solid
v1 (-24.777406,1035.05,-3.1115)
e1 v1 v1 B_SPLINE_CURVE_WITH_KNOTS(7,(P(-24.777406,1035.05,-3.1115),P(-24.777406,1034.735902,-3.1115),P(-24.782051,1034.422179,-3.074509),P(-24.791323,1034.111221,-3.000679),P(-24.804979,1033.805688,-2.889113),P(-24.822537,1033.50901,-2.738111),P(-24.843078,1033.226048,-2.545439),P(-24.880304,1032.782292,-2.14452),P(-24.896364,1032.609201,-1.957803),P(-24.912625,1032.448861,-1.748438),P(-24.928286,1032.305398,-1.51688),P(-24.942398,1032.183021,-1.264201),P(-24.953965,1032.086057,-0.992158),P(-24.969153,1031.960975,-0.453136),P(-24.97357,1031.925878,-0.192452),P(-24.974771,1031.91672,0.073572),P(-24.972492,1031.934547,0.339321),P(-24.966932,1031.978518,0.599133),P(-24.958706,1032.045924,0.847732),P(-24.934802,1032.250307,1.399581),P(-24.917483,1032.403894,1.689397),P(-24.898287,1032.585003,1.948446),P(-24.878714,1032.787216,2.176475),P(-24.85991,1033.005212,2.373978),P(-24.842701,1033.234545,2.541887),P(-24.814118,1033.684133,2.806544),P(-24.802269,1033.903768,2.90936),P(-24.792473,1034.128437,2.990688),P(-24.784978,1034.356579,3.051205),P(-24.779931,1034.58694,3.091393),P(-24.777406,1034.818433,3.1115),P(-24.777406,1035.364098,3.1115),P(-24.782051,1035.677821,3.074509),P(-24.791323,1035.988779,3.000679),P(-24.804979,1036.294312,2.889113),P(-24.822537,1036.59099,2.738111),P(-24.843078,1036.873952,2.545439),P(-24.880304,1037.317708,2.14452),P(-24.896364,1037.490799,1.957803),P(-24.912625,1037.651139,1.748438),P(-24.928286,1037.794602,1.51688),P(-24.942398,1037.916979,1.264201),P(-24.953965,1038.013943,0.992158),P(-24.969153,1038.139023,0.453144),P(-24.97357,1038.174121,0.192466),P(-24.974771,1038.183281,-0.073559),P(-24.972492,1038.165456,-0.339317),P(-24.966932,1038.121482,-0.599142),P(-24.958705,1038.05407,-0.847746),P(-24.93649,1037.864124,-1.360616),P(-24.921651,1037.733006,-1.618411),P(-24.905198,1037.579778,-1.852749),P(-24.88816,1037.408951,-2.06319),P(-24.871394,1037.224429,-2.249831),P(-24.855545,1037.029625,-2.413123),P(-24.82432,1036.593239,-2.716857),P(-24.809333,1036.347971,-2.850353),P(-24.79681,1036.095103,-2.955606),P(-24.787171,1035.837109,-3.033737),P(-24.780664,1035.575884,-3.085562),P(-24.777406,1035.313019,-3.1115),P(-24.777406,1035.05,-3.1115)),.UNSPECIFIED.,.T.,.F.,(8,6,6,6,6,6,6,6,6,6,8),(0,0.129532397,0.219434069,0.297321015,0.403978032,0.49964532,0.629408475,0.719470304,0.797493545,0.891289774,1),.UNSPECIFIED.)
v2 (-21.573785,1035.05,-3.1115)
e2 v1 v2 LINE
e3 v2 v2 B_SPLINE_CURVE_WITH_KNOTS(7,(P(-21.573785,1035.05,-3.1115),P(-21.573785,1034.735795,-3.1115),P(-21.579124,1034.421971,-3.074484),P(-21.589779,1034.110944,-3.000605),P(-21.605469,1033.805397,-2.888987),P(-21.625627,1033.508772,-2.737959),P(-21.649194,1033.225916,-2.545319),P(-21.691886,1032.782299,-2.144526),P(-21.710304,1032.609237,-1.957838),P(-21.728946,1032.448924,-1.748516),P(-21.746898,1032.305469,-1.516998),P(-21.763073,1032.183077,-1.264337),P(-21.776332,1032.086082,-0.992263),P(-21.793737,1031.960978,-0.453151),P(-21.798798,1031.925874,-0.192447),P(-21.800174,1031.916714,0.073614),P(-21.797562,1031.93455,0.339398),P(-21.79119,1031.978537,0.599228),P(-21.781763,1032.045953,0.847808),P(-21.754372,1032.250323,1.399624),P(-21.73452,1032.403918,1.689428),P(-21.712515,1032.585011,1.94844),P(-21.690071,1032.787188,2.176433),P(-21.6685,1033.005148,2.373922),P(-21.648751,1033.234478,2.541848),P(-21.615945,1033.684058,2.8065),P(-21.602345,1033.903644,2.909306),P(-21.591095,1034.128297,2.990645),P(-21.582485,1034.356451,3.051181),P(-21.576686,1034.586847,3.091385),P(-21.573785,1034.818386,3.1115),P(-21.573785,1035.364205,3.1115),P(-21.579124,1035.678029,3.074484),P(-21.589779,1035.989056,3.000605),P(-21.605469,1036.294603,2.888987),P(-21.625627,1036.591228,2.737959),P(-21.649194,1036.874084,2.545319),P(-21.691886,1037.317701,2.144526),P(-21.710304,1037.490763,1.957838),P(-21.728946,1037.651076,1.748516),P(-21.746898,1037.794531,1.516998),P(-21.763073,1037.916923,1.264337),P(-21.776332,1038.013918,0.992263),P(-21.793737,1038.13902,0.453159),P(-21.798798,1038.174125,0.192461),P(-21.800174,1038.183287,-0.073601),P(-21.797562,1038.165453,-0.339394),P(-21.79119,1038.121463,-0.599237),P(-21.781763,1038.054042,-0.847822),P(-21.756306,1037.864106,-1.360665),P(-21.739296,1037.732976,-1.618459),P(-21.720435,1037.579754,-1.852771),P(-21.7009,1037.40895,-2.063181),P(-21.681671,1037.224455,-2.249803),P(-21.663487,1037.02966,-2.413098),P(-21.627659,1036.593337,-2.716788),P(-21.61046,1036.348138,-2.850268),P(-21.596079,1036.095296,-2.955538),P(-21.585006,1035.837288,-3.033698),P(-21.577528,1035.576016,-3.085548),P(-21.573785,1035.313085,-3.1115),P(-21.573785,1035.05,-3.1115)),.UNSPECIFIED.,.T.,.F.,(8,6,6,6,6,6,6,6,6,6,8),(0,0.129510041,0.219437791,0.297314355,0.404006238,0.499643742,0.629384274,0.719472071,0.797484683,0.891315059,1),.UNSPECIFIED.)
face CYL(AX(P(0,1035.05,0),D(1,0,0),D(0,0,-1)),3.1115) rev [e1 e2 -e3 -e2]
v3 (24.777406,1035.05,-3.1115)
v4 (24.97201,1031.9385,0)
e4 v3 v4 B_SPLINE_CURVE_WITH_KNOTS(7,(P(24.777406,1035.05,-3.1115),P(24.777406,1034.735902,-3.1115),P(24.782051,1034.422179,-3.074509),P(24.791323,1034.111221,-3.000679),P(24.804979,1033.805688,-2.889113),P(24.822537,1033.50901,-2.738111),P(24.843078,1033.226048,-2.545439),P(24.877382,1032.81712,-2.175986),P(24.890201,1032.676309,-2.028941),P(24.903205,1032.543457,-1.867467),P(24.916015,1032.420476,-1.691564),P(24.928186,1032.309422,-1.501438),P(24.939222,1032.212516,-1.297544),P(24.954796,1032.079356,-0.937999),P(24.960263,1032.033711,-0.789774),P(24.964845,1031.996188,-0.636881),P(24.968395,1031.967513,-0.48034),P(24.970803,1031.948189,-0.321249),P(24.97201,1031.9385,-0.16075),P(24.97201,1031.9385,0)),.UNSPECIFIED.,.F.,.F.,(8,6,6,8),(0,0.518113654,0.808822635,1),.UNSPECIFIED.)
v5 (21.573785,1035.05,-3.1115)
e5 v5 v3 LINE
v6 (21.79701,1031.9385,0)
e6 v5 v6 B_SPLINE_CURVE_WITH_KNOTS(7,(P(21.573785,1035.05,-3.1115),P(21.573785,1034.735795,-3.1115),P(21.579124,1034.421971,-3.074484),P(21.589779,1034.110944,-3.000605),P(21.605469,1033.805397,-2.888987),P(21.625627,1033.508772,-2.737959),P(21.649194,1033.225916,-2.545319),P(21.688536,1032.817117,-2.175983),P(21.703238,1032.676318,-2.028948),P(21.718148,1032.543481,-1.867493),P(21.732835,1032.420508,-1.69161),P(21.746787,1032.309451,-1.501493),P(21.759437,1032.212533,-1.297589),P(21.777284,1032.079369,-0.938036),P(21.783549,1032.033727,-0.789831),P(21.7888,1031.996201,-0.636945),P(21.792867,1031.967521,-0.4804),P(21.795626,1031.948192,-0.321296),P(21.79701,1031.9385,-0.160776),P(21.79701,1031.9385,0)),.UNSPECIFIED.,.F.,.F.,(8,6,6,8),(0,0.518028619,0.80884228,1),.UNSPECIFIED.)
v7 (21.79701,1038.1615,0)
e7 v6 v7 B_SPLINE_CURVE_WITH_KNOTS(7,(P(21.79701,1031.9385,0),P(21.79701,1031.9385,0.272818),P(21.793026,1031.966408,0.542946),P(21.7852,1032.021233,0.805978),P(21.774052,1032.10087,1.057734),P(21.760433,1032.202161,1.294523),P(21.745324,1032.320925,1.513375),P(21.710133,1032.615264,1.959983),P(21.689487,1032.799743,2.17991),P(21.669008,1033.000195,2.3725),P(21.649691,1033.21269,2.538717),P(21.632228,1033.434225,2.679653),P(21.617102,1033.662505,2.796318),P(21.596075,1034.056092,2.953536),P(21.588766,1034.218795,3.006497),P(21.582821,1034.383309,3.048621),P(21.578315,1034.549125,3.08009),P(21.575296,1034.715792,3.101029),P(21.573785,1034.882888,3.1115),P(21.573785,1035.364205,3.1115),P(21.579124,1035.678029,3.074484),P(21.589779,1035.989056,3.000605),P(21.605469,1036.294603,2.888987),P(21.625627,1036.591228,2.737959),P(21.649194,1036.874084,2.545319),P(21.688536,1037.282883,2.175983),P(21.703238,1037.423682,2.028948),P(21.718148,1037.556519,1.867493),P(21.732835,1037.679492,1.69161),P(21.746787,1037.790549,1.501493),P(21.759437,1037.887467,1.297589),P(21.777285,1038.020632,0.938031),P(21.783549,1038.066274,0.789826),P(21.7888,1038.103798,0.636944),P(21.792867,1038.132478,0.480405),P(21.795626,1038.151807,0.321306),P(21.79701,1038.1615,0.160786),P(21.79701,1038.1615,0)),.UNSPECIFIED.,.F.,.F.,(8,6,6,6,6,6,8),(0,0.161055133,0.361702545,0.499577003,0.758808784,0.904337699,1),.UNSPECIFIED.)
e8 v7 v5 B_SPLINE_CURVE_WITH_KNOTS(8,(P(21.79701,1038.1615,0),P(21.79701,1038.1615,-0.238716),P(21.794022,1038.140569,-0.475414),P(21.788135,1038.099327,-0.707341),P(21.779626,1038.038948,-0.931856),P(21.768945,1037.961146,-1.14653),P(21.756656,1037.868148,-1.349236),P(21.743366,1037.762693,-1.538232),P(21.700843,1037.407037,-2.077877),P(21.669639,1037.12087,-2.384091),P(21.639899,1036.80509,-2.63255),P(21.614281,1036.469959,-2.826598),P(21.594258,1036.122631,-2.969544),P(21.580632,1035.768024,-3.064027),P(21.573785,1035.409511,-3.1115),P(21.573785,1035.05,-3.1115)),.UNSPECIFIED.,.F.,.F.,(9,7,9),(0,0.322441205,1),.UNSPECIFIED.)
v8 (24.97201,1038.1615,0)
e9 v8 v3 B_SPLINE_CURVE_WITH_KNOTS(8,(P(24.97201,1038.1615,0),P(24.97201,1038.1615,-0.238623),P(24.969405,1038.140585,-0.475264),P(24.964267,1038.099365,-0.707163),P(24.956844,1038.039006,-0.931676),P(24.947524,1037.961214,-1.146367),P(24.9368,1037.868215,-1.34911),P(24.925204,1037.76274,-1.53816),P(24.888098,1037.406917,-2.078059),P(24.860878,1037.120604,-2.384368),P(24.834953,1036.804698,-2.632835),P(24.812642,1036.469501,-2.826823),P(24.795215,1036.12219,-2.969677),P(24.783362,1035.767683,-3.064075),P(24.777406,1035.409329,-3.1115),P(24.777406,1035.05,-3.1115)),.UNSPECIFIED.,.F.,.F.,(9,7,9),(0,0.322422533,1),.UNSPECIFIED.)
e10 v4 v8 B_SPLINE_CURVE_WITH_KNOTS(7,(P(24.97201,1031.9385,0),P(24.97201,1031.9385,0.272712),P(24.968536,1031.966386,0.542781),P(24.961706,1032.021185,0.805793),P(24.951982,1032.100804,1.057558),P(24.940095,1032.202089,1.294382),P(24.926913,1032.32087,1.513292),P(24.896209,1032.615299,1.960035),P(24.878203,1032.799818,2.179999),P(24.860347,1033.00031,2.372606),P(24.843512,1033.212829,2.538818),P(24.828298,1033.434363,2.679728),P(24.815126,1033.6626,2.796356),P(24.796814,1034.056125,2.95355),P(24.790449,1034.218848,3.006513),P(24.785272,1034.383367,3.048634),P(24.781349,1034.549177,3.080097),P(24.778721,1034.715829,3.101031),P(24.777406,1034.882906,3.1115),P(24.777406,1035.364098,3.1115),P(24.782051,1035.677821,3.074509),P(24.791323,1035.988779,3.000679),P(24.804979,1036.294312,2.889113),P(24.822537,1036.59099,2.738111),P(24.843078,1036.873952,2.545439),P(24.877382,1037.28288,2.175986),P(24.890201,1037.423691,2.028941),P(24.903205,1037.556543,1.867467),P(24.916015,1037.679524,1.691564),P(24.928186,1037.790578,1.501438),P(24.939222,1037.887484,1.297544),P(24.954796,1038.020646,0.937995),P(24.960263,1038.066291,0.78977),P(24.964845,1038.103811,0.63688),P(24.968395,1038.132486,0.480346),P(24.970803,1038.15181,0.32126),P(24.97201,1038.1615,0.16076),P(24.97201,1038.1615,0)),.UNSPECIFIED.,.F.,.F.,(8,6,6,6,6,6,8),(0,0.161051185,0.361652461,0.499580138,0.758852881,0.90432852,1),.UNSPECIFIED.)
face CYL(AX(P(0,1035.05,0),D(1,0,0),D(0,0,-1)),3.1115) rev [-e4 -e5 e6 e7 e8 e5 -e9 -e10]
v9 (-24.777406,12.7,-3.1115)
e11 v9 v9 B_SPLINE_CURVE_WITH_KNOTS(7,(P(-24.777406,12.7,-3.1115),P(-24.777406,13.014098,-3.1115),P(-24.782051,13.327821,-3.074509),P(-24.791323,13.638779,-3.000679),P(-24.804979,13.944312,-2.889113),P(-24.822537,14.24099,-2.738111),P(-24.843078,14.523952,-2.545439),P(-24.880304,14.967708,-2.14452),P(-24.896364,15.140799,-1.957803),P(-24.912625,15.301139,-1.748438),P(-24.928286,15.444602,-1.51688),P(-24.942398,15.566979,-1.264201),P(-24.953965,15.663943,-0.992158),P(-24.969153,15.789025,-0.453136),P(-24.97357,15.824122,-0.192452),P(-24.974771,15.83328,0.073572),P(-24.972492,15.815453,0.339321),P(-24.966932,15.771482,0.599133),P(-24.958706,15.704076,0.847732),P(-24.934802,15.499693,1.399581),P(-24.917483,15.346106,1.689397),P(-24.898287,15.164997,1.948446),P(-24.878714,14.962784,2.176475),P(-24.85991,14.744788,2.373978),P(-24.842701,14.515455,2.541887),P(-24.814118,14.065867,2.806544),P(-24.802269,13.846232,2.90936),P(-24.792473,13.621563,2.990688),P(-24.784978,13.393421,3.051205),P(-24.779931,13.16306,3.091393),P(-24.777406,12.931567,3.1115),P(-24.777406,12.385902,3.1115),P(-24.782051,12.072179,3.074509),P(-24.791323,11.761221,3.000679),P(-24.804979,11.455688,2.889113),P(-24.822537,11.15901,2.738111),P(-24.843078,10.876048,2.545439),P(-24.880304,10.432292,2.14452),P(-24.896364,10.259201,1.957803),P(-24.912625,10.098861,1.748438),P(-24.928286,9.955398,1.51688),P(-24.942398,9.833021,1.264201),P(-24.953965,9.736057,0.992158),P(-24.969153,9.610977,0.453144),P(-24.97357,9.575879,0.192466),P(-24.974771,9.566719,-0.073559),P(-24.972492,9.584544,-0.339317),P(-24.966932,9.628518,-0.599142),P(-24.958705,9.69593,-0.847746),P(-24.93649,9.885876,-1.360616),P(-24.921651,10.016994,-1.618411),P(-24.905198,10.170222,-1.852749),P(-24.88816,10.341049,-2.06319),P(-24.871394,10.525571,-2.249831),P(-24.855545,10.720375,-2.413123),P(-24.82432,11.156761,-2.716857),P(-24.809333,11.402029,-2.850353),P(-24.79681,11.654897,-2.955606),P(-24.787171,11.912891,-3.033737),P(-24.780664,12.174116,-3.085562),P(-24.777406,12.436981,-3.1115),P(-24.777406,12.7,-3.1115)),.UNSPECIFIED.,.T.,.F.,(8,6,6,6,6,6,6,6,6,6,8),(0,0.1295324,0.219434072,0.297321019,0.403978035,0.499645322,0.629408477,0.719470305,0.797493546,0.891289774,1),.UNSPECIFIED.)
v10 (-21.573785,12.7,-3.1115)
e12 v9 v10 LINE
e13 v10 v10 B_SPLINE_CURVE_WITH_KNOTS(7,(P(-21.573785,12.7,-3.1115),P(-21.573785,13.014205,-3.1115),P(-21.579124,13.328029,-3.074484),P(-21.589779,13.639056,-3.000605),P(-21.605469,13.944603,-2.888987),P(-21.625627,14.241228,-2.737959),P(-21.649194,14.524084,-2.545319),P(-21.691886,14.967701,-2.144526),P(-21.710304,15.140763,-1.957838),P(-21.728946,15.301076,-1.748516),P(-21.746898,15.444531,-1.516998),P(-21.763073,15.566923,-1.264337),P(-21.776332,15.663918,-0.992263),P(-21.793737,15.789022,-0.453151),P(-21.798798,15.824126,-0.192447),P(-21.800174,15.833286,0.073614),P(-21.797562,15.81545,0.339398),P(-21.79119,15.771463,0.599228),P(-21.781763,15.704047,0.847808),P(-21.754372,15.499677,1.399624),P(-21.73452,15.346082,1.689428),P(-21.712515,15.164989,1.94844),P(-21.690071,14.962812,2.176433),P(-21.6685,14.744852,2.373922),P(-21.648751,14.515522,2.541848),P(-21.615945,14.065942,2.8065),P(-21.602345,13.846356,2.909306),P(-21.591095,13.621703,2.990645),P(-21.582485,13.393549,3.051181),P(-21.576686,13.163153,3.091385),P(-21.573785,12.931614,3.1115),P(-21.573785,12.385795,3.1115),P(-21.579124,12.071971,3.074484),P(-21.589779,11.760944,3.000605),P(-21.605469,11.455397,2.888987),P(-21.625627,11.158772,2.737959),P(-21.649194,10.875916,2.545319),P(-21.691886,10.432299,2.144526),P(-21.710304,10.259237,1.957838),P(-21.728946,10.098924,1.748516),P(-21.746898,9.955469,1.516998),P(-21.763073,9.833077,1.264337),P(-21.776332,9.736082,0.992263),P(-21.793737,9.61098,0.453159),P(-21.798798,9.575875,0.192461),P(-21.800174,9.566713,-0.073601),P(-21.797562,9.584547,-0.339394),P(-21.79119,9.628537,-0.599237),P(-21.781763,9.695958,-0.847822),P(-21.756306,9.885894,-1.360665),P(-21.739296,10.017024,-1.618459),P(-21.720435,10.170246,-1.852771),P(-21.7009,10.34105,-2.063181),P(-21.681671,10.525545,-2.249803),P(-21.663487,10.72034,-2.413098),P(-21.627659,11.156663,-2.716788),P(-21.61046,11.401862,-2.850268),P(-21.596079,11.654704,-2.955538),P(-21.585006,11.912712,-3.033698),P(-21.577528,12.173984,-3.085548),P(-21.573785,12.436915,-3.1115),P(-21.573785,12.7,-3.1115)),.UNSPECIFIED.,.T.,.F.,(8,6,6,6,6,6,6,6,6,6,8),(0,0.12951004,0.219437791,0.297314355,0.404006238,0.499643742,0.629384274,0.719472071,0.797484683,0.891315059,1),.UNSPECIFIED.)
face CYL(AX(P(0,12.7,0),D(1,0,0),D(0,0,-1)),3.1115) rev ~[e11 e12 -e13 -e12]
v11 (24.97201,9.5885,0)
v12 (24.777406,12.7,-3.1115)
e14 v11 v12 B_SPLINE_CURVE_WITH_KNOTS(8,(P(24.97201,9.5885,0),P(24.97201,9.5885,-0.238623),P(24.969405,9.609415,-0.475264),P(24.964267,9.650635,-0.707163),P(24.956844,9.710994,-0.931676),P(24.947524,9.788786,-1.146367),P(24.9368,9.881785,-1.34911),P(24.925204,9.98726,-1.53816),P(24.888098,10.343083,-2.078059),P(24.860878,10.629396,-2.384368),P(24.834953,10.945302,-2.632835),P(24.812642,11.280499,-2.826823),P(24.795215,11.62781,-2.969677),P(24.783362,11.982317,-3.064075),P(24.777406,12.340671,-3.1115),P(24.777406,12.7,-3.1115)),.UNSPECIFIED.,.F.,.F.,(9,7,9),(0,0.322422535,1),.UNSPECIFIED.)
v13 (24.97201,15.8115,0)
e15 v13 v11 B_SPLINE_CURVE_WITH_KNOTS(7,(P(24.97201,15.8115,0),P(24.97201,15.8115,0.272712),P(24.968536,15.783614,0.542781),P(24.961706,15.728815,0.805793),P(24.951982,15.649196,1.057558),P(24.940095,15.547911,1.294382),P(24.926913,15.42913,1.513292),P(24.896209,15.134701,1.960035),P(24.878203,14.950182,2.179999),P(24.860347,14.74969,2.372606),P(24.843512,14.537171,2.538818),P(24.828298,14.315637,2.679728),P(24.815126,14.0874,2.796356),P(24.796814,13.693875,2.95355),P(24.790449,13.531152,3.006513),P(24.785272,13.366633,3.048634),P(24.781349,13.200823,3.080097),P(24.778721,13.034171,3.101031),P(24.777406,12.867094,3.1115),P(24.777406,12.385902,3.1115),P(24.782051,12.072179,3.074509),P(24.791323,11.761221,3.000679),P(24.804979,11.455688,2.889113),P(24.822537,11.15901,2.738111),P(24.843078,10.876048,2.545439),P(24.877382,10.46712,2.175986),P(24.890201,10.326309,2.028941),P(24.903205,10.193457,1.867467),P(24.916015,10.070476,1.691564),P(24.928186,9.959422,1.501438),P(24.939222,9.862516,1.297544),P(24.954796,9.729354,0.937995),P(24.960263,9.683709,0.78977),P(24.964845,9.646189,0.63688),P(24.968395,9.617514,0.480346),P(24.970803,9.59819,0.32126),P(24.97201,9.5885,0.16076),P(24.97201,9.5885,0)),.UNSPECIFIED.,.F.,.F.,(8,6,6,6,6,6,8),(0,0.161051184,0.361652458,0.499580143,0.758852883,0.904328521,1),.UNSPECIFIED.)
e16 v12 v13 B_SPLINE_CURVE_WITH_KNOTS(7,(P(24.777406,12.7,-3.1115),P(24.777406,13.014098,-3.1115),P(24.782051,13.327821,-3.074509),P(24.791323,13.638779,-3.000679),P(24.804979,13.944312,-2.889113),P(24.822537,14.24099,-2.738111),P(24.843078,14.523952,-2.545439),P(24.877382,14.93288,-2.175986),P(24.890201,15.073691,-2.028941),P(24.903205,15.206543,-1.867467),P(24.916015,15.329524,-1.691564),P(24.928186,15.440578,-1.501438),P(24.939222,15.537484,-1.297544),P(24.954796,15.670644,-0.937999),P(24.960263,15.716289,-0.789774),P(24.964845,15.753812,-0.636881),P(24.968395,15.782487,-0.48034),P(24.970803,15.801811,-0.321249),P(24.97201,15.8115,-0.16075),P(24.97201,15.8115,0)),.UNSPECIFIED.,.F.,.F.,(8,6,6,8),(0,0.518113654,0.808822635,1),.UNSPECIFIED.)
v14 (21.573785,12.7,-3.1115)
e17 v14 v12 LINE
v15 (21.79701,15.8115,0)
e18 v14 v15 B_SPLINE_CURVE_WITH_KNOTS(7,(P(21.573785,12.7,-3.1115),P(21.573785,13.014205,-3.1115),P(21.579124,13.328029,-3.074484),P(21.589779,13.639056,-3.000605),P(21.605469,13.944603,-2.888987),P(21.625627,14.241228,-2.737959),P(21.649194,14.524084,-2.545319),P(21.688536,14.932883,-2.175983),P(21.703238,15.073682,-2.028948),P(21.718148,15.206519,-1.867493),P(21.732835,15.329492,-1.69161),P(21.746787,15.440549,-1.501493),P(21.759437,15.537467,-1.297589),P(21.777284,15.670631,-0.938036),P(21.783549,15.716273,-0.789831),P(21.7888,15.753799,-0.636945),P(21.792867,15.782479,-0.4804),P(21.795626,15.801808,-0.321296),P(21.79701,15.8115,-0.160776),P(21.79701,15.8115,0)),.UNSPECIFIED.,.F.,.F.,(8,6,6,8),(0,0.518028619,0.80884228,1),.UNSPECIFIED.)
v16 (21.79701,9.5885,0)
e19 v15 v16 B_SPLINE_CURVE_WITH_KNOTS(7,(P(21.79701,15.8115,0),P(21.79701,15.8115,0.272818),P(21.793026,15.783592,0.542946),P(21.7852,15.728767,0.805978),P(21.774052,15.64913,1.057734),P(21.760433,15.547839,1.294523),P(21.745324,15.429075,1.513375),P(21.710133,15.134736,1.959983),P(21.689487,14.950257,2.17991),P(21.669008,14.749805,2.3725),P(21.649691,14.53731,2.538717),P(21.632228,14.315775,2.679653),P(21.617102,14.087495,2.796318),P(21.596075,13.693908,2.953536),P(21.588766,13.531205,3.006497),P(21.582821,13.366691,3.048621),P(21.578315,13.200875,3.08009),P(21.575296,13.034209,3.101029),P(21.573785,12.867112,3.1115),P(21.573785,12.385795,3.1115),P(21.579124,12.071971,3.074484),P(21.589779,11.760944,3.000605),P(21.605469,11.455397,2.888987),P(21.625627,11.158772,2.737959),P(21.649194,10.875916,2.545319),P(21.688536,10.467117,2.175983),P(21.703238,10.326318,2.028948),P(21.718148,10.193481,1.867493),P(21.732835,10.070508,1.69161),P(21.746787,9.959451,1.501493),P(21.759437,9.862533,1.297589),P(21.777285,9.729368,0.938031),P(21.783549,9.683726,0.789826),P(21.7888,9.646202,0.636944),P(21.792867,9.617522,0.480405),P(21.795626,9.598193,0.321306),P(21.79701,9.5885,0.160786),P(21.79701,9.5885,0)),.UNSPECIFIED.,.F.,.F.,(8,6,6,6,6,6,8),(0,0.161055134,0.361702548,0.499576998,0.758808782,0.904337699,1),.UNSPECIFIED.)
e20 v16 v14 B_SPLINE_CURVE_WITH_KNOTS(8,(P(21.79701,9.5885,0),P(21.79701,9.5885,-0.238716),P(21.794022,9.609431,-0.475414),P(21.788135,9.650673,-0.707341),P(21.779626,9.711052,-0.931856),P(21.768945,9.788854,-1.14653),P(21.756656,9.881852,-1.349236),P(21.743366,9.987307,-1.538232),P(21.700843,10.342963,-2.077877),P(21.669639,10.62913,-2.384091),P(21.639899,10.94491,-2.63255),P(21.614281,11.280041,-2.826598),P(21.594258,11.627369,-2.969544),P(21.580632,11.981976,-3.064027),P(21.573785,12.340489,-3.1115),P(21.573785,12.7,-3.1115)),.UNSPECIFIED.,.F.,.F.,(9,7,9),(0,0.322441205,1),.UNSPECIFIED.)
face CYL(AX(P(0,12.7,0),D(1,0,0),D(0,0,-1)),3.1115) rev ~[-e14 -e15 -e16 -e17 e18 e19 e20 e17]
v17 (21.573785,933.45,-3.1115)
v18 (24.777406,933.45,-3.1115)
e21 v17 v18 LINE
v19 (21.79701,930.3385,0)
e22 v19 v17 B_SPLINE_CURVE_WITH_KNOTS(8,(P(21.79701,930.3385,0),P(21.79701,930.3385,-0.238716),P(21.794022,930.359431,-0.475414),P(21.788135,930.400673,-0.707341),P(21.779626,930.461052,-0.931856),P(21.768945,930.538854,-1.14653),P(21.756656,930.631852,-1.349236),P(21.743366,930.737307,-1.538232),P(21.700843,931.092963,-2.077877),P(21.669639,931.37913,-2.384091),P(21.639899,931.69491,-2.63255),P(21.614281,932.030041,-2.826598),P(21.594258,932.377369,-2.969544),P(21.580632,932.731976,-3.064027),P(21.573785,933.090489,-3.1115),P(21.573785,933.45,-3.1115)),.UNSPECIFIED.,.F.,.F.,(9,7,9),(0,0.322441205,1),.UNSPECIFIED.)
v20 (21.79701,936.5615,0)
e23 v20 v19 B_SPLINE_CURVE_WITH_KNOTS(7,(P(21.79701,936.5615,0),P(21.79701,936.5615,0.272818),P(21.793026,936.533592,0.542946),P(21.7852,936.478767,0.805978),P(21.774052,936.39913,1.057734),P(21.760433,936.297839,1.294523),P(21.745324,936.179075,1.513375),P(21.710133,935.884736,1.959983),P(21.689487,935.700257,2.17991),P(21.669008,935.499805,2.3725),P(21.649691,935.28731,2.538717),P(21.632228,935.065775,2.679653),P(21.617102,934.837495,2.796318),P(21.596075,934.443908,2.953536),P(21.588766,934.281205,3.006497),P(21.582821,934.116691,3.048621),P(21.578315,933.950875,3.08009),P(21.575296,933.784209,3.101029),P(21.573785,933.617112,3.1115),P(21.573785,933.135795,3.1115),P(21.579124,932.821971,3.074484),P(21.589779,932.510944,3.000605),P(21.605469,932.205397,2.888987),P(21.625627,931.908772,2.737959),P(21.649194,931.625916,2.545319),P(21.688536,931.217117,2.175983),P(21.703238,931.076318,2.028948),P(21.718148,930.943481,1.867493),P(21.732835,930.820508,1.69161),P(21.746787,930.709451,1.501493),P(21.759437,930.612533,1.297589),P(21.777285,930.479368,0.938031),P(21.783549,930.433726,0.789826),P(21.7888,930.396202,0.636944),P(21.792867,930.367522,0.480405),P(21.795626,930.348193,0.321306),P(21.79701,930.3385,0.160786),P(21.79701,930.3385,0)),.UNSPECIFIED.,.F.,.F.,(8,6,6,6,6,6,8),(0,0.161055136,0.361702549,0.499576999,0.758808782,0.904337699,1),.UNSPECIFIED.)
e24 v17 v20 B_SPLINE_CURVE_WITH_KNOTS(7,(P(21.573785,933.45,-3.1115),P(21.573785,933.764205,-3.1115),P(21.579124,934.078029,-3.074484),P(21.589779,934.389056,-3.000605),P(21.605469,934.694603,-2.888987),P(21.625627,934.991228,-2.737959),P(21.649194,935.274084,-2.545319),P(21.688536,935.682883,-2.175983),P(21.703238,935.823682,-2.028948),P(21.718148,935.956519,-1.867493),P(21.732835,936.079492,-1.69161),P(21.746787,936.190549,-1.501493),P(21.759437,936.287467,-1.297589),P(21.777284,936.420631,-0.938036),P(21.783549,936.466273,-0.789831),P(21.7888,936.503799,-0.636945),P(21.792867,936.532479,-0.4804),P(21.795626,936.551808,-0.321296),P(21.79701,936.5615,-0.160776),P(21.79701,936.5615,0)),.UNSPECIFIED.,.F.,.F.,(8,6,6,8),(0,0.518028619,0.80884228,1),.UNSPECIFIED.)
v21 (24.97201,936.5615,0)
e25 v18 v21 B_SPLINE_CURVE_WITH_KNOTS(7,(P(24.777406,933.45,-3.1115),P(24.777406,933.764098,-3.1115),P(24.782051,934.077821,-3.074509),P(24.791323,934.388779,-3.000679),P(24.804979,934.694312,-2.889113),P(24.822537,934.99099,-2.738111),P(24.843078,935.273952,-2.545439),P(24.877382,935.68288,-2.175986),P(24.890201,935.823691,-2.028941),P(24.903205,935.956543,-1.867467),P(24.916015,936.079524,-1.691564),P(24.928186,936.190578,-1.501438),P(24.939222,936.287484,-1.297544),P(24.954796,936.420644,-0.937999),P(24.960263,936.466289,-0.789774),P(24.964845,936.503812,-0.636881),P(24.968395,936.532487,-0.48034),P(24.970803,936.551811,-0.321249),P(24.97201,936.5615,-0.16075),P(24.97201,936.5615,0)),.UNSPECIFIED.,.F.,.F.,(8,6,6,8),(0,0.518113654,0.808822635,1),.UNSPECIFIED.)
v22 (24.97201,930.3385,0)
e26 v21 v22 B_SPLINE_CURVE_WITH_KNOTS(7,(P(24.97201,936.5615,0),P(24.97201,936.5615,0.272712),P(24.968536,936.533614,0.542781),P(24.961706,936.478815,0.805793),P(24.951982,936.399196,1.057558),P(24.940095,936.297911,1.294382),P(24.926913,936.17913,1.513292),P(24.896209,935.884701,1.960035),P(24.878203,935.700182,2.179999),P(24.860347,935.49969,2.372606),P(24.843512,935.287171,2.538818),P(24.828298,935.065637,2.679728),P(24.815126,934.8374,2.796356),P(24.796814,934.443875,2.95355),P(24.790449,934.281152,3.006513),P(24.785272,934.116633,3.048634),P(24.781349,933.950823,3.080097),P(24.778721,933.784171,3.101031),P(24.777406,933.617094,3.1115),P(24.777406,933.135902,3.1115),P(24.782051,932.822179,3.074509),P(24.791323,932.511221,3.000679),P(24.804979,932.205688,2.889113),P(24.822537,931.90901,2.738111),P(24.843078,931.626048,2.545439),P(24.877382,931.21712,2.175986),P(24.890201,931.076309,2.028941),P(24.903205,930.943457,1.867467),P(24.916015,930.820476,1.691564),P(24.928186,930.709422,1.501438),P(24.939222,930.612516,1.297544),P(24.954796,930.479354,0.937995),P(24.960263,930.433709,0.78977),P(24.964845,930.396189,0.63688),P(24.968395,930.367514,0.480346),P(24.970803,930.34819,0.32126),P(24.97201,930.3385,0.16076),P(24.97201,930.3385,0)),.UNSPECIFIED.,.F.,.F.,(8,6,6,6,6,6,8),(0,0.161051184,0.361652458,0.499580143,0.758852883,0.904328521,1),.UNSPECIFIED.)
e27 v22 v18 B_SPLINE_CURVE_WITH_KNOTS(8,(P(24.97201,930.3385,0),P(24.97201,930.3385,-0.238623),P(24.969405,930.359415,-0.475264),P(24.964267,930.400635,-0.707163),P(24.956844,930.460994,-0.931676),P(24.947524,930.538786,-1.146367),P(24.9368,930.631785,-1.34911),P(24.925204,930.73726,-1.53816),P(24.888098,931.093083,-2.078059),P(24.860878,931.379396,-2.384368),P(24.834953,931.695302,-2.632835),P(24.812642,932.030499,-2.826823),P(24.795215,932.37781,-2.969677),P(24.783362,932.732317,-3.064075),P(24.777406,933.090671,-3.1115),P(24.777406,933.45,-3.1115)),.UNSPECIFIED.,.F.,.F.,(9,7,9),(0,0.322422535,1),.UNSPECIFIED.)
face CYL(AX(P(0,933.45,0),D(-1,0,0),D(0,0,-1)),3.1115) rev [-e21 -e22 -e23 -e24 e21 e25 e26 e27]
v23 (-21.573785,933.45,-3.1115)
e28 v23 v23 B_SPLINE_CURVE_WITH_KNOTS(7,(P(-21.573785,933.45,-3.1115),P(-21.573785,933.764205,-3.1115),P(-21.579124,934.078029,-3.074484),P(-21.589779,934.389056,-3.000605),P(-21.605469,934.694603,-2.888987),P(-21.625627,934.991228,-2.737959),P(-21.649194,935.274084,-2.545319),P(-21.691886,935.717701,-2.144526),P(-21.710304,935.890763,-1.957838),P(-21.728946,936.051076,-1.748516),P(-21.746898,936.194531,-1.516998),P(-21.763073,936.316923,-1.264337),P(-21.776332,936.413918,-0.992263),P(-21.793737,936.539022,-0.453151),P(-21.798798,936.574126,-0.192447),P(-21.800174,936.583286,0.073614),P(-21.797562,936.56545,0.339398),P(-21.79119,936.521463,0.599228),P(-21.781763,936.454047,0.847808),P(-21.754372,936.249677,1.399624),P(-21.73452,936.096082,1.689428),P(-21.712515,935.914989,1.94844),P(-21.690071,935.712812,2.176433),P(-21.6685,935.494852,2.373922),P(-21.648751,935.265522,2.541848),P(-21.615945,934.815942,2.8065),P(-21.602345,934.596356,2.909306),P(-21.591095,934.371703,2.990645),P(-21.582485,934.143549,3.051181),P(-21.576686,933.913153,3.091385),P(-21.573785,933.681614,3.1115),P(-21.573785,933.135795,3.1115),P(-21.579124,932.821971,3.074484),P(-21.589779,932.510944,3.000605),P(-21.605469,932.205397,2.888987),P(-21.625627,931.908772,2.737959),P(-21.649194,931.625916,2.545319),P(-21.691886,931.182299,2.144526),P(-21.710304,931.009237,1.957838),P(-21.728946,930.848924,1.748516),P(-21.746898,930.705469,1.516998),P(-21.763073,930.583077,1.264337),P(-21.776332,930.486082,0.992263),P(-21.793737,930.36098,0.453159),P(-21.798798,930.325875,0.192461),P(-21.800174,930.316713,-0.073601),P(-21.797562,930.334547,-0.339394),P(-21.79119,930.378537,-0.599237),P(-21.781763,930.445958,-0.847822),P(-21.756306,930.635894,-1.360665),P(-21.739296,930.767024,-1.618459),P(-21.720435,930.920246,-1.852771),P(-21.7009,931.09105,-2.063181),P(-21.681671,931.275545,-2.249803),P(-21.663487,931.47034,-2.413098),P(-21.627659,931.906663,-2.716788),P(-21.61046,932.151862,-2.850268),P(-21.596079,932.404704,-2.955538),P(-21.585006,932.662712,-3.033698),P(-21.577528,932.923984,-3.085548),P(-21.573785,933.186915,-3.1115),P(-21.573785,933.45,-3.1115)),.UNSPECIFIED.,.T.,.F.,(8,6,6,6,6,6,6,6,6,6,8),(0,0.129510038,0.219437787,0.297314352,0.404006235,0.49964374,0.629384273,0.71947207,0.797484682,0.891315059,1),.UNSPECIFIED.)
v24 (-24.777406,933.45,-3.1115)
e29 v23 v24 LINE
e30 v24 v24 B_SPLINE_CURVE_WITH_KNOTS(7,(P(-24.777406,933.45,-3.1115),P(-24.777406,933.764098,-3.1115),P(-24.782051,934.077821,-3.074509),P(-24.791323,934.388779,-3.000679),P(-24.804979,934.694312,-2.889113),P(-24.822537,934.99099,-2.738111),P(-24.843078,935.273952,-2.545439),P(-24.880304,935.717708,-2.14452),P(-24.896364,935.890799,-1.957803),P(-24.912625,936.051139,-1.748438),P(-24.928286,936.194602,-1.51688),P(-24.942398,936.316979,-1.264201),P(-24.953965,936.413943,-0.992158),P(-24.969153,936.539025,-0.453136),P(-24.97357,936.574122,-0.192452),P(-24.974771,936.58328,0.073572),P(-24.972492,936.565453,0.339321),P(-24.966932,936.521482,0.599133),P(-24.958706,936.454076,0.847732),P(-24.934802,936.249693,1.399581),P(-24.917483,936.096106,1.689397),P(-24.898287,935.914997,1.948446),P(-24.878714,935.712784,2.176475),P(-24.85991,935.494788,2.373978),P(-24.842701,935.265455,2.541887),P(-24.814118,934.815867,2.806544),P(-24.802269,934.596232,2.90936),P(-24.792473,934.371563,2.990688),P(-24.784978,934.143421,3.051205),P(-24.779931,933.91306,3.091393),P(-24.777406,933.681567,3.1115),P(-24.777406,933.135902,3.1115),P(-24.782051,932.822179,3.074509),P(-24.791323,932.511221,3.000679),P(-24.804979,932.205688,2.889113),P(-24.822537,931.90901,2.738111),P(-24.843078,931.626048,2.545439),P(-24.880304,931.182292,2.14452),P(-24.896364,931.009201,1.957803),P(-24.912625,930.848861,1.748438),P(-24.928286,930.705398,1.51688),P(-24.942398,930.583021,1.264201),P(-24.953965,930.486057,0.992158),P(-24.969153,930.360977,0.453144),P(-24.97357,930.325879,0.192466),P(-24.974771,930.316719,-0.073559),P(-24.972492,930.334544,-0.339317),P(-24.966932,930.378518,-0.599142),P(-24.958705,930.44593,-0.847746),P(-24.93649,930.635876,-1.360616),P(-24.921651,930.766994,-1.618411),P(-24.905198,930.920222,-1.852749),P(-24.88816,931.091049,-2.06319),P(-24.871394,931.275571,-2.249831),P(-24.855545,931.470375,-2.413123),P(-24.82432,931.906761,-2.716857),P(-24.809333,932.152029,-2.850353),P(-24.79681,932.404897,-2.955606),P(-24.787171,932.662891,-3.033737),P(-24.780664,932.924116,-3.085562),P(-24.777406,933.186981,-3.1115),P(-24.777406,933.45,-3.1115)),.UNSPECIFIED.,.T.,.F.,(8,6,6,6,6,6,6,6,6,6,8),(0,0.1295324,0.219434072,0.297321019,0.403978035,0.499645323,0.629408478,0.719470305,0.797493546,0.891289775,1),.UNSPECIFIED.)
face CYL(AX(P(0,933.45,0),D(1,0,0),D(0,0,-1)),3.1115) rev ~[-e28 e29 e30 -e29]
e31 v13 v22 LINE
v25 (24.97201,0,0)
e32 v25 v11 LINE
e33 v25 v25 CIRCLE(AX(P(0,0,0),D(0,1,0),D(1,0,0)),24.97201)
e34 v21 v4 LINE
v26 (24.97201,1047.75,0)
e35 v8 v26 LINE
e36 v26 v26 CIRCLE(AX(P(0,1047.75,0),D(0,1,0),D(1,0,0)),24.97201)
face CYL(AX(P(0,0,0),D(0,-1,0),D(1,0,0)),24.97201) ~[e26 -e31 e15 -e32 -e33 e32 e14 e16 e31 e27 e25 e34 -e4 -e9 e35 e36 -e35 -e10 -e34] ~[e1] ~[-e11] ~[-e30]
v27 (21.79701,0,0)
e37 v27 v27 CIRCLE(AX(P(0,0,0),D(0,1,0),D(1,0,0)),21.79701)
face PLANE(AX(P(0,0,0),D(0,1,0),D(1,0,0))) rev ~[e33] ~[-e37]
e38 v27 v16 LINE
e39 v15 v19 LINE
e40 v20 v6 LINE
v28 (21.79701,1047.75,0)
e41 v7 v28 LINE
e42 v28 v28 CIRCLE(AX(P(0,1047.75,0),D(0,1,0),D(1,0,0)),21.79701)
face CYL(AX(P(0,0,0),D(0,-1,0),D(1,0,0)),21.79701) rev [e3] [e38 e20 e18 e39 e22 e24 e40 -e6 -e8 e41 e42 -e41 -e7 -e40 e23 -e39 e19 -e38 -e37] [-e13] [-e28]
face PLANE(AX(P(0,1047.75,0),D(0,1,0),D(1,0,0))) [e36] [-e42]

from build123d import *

# Parameters (mm, degrees)
SKETCH1_R               = 24.97201
SKETCH1_R_2             = 21.79701
BOSS_EXTRUDE1_DEPTH     = 1047.75
SKETCH2_R               = 3.1115
CUT_EXTRUDE1_DEPTH      = 25.97201
SKETCH3_R               = 3.1115
CUT_EXTRUDE3_DEPTH      = 25.9720101
CUT_EXTRUDE3_DEPTH_BACK = 25.9720101


with BuildPart() as part:
    # Sketch1 → Boss-Extrude1 (new body)
    with BuildSketch(Plane(origin=(0, 0, 0), x_dir=(1, 0, 0), z_dir=(0, 1, 0))):
        Circle(SKETCH1_R)
        Circle(SKETCH1_R_2, mode=Mode.SUBTRACT)
    extrude(amount=BOSS_EXTRUDE1_DEPTH)

    # Sketch2 → Cut-Extrude1 (cut, symmetric)
    with BuildSketch(Plane(origin=(0, 0, 0), x_dir=(0, 0, -1), z_dir=(1, 0, 0))):
        with Locations((0, 12.7)):
            Circle(SKETCH2_R)
    cut_extrude1 = extrude(amount=CUT_EXTRUDE1_DEPTH, both=True, mode=Mode.SUBTRACT)

    # Mirror1: Cut-Extrude1 across plane
    add(cut_extrude1.mirror(Plane.ZX.offset(523.875)), mode=Mode.SUBTRACT)

    # Sketch3 → Cut-Extrude3 (cut, two sides)
    with BuildSketch(Plane(origin=(0, 0, 0), x_dir=(0, 0, -1), z_dir=(1, 0, 0))) as cut_extrude3_sk:
        with Locations((0, 933.45)):
            Circle(SKETCH3_R)
    extrude(amount=CUT_EXTRUDE3_DEPTH, mode=Mode.SUBTRACT)
    extrude(cut_extrude3_sk.sketch, amount=-CUT_EXTRUDE3_DEPTH_BACK, mode=Mode.SUBTRACT)


solid = part.part
